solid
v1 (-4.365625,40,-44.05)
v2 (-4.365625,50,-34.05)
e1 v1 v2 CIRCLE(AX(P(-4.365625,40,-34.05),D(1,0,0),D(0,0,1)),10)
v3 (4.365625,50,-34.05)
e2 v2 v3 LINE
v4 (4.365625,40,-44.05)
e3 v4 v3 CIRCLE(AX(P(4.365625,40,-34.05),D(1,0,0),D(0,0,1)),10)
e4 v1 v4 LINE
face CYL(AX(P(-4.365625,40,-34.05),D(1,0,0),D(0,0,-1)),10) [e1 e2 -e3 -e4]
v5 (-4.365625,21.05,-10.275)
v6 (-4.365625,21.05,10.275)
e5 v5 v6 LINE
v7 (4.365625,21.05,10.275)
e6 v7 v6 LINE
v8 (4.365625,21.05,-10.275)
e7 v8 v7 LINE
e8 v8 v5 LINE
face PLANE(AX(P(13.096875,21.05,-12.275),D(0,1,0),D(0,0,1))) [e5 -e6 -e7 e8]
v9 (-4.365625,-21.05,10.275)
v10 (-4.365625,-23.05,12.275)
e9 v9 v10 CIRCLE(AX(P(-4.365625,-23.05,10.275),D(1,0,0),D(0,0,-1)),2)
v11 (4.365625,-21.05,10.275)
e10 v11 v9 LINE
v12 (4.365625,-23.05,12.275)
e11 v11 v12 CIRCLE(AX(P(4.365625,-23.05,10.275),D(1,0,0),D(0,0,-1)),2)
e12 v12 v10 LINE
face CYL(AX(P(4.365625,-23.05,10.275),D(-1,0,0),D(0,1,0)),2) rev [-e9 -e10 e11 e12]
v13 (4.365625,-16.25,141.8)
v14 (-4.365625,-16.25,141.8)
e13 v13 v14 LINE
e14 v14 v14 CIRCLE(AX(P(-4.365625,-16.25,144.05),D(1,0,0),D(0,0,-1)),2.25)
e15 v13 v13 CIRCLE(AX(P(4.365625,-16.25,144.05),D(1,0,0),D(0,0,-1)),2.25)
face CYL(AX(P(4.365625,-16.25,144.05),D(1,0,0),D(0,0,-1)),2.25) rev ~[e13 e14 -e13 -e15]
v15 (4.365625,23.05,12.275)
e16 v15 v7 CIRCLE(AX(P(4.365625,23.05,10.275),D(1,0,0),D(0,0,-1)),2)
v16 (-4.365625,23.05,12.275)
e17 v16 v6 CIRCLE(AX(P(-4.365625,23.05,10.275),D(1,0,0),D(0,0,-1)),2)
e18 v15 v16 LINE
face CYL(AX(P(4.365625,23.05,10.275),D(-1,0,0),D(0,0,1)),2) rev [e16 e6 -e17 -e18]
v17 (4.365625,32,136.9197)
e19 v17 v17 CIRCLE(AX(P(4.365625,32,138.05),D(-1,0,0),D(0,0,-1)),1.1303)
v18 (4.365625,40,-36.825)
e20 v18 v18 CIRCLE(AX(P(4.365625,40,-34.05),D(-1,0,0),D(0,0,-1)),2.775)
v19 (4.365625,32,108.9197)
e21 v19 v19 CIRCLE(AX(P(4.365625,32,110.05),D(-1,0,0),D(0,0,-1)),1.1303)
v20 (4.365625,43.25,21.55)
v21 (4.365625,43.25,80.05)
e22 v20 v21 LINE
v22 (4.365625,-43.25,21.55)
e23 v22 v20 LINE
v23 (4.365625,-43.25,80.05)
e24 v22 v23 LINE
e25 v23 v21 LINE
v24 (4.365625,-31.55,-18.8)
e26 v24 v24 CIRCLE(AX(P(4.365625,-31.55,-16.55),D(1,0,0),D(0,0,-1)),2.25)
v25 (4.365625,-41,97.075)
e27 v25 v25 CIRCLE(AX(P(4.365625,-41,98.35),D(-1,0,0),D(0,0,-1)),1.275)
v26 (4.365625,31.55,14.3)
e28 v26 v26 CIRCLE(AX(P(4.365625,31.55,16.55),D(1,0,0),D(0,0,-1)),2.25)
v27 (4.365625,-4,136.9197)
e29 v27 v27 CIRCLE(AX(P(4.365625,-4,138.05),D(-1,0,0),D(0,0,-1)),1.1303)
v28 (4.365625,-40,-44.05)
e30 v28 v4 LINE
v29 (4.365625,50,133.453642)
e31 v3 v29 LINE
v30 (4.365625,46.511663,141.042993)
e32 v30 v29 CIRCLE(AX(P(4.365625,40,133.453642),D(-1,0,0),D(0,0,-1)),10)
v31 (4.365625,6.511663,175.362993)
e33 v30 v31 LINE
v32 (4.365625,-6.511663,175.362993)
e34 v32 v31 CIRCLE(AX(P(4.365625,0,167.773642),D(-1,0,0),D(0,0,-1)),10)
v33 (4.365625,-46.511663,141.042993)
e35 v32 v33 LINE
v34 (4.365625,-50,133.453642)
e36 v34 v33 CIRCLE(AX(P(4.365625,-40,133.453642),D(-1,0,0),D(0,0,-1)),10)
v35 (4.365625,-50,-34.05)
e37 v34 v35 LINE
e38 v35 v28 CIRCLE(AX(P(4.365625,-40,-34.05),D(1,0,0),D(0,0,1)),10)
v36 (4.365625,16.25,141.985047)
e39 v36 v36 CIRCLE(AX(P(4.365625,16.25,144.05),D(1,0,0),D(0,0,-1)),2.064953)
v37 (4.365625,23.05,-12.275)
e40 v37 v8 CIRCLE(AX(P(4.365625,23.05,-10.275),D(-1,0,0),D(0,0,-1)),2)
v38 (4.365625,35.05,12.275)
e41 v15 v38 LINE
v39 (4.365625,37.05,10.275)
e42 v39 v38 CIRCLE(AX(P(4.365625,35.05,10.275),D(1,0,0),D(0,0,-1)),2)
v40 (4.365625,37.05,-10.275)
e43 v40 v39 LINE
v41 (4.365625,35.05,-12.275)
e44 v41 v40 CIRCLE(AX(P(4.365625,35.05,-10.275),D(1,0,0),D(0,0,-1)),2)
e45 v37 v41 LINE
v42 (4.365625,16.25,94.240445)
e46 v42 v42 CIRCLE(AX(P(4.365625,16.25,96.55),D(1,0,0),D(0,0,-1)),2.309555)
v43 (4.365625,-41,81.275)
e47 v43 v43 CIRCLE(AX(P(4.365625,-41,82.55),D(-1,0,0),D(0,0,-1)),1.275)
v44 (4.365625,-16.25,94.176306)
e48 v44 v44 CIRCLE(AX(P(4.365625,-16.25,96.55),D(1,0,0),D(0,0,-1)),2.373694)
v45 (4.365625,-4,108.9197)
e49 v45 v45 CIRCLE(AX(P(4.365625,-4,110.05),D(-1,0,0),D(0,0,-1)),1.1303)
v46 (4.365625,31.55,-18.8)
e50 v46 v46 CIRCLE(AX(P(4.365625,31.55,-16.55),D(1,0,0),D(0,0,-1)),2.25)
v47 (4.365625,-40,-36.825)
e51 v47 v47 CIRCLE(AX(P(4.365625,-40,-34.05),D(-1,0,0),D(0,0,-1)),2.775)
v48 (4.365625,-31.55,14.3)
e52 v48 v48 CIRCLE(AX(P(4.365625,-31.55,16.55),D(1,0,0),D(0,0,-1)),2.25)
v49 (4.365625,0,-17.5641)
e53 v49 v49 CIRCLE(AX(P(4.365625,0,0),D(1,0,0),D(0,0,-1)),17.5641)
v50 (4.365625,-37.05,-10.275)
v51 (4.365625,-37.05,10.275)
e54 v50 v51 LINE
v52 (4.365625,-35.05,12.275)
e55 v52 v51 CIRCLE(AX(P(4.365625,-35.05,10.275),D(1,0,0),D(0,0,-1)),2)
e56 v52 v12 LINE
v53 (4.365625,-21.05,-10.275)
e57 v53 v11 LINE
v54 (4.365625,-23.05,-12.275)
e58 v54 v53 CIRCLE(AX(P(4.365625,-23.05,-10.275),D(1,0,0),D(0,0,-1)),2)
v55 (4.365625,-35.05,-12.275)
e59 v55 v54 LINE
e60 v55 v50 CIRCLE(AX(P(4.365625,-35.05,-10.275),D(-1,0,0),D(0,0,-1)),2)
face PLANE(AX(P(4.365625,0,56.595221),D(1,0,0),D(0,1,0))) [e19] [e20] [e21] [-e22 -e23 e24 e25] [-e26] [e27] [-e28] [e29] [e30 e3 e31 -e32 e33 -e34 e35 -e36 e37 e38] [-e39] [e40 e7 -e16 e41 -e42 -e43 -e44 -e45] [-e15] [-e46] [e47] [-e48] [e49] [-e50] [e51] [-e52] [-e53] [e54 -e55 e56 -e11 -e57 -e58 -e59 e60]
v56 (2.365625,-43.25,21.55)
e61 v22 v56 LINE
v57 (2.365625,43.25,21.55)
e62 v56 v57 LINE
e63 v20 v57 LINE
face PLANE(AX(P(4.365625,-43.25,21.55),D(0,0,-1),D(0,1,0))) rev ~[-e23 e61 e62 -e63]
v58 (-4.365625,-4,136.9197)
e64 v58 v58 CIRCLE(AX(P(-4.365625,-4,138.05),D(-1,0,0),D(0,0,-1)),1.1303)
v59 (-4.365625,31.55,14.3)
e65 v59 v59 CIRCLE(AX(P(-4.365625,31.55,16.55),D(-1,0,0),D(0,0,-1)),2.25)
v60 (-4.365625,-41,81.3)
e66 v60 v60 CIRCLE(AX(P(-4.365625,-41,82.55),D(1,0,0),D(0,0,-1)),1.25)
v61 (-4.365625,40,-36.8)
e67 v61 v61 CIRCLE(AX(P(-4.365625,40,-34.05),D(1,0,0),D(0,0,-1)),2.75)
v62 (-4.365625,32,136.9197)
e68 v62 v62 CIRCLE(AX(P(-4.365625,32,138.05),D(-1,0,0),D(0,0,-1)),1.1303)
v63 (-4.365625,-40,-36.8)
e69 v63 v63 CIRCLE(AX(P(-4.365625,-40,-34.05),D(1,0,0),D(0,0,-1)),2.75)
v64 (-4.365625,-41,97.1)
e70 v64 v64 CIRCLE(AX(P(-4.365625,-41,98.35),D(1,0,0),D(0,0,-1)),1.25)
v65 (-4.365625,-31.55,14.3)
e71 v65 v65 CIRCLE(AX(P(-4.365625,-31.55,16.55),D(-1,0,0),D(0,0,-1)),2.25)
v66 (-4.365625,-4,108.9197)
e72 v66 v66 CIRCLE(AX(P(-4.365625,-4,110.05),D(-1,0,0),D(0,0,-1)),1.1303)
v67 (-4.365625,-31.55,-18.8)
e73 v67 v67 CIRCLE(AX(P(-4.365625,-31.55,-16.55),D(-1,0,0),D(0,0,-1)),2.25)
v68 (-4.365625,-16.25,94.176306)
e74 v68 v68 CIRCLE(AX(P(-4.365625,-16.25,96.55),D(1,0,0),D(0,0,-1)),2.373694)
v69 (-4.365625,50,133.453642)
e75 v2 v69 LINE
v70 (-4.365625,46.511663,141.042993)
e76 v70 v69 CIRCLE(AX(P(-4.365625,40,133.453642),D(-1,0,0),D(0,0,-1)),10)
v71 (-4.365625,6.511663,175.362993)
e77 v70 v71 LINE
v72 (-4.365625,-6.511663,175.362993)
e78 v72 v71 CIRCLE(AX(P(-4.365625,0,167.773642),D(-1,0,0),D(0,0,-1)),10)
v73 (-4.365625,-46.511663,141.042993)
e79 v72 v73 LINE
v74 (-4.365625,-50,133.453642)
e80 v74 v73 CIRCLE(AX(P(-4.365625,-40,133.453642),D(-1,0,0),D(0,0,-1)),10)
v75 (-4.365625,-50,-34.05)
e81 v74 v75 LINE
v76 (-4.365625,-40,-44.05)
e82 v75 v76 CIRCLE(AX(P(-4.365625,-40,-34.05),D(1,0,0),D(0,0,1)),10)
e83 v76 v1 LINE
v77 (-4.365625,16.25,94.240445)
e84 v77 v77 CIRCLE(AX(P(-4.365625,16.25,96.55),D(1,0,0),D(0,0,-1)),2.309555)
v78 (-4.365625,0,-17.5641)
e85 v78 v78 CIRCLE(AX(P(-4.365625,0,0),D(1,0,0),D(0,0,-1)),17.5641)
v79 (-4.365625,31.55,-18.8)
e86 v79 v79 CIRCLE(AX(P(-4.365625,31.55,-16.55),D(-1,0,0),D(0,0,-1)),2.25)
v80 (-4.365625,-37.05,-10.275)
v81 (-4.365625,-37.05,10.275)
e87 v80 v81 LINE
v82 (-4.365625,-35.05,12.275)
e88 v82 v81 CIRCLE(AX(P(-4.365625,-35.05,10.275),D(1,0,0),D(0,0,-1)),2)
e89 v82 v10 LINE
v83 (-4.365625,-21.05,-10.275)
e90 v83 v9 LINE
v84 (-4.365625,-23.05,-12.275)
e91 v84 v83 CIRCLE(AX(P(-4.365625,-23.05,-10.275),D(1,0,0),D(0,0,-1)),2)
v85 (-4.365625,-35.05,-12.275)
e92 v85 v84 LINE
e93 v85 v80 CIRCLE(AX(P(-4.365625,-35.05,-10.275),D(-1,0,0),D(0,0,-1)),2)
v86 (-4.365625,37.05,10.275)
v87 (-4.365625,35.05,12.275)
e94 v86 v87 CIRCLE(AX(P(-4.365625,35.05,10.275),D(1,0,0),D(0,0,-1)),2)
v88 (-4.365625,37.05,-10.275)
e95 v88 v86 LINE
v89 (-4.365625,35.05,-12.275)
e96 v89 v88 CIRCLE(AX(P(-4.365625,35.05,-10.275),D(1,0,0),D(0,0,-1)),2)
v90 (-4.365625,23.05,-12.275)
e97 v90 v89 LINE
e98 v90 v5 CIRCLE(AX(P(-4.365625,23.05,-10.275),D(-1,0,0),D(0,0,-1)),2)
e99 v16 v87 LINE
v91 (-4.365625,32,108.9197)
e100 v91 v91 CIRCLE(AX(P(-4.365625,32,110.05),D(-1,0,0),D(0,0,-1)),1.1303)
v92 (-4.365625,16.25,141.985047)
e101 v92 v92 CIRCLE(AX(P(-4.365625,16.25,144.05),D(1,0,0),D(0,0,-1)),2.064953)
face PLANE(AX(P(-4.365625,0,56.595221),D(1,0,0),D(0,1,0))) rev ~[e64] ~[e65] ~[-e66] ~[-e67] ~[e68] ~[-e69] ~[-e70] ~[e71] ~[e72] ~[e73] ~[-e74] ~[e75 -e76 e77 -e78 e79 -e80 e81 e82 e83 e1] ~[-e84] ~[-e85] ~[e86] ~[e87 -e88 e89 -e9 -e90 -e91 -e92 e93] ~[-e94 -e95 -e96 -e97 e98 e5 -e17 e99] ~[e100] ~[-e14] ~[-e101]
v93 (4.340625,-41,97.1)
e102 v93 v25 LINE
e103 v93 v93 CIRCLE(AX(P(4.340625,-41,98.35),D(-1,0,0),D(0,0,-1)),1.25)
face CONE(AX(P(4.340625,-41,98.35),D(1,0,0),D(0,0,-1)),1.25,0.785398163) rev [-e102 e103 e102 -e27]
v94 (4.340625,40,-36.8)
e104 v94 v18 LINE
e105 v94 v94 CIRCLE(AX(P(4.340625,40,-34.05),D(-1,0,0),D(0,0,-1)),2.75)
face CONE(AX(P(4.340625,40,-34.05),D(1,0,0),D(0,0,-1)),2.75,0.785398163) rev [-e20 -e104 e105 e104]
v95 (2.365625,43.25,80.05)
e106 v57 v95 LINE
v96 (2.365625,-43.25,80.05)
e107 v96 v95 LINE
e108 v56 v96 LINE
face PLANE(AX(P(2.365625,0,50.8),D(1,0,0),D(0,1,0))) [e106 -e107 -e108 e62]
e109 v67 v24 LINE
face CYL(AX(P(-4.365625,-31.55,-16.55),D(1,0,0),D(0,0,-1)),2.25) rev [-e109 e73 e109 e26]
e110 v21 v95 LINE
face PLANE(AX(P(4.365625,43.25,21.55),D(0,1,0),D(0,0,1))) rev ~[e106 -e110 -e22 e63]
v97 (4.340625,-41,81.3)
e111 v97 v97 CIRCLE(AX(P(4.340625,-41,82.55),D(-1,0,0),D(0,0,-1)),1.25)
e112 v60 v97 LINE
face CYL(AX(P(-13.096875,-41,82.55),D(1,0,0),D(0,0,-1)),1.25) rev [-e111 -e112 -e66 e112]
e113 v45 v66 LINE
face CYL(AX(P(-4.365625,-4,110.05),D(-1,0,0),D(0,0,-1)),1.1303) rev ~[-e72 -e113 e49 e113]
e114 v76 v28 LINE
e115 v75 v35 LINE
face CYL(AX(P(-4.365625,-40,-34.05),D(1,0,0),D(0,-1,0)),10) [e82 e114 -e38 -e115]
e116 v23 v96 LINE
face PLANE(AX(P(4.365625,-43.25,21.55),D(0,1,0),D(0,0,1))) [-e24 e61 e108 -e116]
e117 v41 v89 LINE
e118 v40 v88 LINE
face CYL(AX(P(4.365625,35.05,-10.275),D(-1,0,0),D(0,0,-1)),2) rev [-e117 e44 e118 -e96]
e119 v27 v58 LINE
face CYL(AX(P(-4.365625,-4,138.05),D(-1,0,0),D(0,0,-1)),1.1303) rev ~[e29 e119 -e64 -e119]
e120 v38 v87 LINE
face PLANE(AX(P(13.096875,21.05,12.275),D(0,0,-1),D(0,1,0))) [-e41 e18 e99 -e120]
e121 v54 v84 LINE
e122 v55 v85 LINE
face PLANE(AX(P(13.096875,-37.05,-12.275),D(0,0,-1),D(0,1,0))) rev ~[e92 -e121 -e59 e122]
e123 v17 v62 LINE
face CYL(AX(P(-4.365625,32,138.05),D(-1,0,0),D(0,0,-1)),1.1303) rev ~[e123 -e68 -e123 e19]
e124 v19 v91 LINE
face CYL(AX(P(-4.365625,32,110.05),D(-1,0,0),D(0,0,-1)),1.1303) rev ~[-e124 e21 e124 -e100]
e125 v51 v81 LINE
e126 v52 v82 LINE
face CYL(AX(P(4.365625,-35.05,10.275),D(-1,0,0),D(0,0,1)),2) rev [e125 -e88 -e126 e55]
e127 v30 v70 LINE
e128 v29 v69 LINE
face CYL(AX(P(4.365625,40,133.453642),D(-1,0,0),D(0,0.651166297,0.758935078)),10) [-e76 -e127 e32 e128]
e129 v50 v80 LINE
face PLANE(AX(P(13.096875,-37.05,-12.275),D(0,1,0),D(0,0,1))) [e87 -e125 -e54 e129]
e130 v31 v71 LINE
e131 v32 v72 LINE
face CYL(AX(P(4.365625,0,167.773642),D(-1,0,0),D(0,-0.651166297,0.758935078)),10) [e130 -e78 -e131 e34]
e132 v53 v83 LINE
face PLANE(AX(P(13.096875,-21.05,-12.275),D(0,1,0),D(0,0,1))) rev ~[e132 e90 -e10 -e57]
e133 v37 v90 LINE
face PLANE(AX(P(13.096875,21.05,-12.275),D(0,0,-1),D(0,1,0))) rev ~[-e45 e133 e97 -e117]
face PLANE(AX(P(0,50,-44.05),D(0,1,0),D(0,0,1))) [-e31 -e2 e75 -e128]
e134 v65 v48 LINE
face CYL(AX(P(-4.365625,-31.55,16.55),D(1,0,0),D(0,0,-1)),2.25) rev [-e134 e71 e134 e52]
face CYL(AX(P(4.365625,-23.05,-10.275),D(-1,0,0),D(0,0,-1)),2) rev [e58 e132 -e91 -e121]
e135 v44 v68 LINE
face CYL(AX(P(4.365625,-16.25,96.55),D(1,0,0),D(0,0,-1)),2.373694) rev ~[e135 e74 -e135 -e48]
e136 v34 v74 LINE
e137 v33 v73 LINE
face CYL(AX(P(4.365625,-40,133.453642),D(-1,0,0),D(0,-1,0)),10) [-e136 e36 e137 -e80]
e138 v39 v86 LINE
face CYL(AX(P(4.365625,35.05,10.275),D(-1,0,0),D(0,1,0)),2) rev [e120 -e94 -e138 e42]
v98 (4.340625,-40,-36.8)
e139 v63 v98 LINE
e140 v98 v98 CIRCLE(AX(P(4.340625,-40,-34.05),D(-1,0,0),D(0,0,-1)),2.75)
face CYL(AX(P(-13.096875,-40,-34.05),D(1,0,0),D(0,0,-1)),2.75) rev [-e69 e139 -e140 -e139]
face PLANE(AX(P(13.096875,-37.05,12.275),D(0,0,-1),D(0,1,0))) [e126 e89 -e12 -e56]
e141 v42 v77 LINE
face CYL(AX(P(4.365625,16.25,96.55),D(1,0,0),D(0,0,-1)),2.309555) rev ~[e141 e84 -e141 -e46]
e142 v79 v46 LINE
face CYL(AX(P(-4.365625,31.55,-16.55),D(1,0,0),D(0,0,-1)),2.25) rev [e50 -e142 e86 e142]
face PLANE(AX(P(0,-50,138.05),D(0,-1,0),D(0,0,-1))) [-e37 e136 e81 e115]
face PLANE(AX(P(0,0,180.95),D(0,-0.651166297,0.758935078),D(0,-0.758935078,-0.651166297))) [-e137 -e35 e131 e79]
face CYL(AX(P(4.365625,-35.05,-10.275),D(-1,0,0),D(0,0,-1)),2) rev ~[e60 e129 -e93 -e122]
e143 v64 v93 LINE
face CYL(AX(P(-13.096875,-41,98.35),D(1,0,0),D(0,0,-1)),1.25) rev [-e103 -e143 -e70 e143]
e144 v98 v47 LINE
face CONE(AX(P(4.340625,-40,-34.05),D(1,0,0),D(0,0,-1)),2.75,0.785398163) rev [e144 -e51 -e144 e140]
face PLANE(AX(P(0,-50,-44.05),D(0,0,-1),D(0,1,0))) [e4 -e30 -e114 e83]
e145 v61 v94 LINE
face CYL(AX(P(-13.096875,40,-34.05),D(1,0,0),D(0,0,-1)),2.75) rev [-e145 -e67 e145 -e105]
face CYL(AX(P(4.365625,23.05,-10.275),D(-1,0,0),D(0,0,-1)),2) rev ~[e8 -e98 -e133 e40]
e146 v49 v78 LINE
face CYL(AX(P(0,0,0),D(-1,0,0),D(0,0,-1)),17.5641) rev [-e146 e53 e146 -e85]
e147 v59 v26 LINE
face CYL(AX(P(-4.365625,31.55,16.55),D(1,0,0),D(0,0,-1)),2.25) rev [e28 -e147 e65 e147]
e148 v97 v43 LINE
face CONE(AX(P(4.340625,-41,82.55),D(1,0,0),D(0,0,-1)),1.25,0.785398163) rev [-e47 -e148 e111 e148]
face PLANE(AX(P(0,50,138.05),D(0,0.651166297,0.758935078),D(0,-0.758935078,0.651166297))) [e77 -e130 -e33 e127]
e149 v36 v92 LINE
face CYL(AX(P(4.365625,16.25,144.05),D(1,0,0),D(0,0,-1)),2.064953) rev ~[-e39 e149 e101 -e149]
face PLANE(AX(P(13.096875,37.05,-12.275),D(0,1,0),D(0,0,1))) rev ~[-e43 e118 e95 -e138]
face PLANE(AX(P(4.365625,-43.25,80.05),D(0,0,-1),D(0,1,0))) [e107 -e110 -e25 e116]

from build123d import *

# Parameters (mm, degrees)
SKETCH1_R                            = 17.5641
BOSS_EXTRUDE1_DEPTH                  = 4.365625
SKETCH2_W                            = 78.1
SKETCH2_H                            = 43.1
BOSS_EXTRUDE2_DEPTH                  = 8.73125
M4_CLEARANCE_HOLE2_AT_2_COUNT        = 2
M4_CLEARANCE_HOLE2_AT_2_PITCH        = 33.1
M4_CLEARANCE_HOLE2_AT_3_COUNT        = 2
M4_CLEARANCE_HOLE2_AT_3_PITCH        = 71.254613886
M4_CLEARANCE_HOLE2_AT_4_COUNT        = 2
M4_CLEARANCE_HOLE2_AT_4_PITCH        = 63.1
SKETCH24_W                           = 78.1
SKETCH24_H                           = 43.1
BOSS_EXTRUDE3_DEPTH                  = 8.73125
TAP_DRILL_FOR_M4X0_7_TAP1_AT_2_COUNT = 2
TAP_DRILL_FOR_M4X0_7_TAP1_AT_2_PITCH = 33.1
TAP_DRILL_FOR_M4X0_7_TAP1_AT_3_COUNT = 2
TAP_DRILL_FOR_M4X0_7_TAP1_AT_3_PITCH = 71.254613886
TAP_DRILL_FOR_M4X0_7_TAP1_AT_4_COUNT = 2
TAP_DRILL_FOR_M4X0_7_TAP1_AT_4_PITCH = 63.1
TAP_DRILL_FOR_M3X0_5_TAP1_AT_2_COUNT = 2
TAP_DRILL_FOR_M3X0_5_TAP1_AT_2_PITCH = 15.8
SKETCH3_R                            = 17.5641
CUT_EXTRUDE3_DEPTH                   = 190.54950551
M5_CLEARANCE_HOLE1_AT_2_COUNT        = 2
M5_CLEARANCE_HOLE1_AT_2_PITCH        = 80
SKETCH14_W                           = 86.5
SKETCH14_H                           = 58.5
CUT_EXTRUDE4_DEPTH                   = 2
FILLET4_R                            = 10
FILLET5_R                            = 5
FILLET6_R                            = 5
SKETCH28_W                           = 15.5
SKETCH28_H                           = 20.75
SKETCH28_R                           = 1.5
BOSS_EXTRUDE4_DEPTH                  = 2.5
FILLET7_R                            = 1
SKETCH29_R                           = 1.5
BOSS_EXTRUDE5_DEPTH                  = 1.5
FILLET8_R                            = 0.5
SKETCH34_W                           = 1.1303
SKETCH34_H                           = 17.4625
TAP_DRILL_FOR_4_40_TAP1_AT_2_COUNT   = 2
TAP_DRILL_FOR_4_40_TAP1_AT_2_PITCH   = 28
TAP_DRILL_FOR_4_40_TAP1_AT_3_COUNT   = 2
TAP_DRILL_FOR_4_40_TAP1_AT_3_PITCH   = 45.607017004
TAP_DRILL_FOR_4_40_TAP1_AT_4_COUNT   = 2
TAP_DRILL_FOR_4_40_TAP1_AT_4_PITCH   = 36
SKETCH35_R                           = 2.25
SKETCH35_R_2                         = 2.064953437
SKETCH35_R_3                         = 2.37369371
SKETCH35_R_4                         = 2.309555233
CUT_EXTRUDE5_DEPTH                   = 187.620222532
SKETCH36_W                           = 16
SKETCH36_H                           = 24.55
CUT_EXTRUDE6_DEPTH                   = 188.638698276
FILLET9_R                            = 2
FILLET10_R                           = 2
FILLET11_R                           = 2


with BuildPart() as part:
    # Sketch1 → Boss-Extrude1 (new, symmetric)
    with BuildSketch(Plane.YZ):
        Polygon((-50, 138.05), (-50, -44.05), (50, -44.05), (50, 138.05), (0, 180.95), align=None)
        with Locations(Location((0, 0, 0), (0, 0, 270))):
            Circle(SKETCH1_R, mode=Mode.SUBTRACT)
    extrude(amount=BOSS_EXTRUDE1_DEPTH, both=True)


with BuildPart() as body_2:
    # Sketch2 → Boss-Extrude2 (new body)
    with BuildSketch(Plane.YZ.offset(4.365625)):
        Rectangle(SKETCH2_W, SKETCH2_H)
    extrude(amount=BOSS_EXTRUDE2_DEPTH)


with BuildPart() as m4_clearance_hole2_tool:
    # Sketch23 → M4 Clearance Hole2 (revolve)
    with BuildSketch(Plane(origin=(13.096875, -31.55, 16.55), x_dir=(0, 0, -1), z_dir=(0, 1, 0))):
        Polygon((0, 0), (0, 17.4625), (2.25, 17.4625), (2.25, 0.025), (2.275, 0), align=None)
    m4_clearance_hole2 = revolve(axis=Axis((19.446875, -31.55, 16.55), (-1, 0, 0)))


with BuildPart() as part_1:
    add(part.part)

    # M4 Clearance Hole2: cut by m4_clearance_hole2_tool
    add(m4_clearance_hole2_tool.part, mode=Mode.SUBTRACT)


with BuildPart() as body_2_1:
    add(body_2.part)

    # M4 Clearance Hole2: cut by m4_clearance_hole2_tool
    add(m4_clearance_hole2_tool.part, mode=Mode.SUBTRACT)


with BuildPart() as m4_clearance_hole2_at_2_tool:
    # M4 Clearance Hole2 at 2: M4 Clearance Hole2 ×2
    with Locations(*[(0, 0, -i * M4_CLEARANCE_HOLE2_AT_2_PITCH) for i in range(1, M4_CLEARANCE_HOLE2_AT_2_COUNT)]):
        add(m4_clearance_hole2)


with BuildPart() as part_2:
    add(part_1.part)

    # M4 Clearance Hole2 at 2: cut by m4_clearance_hole2_at_2_tool
    add(m4_clearance_hole2_at_2_tool.part, mode=Mode.SUBTRACT)


with BuildPart() as body_2_2:
    add(body_2_1.part)

    # M4 Clearance Hole2 at 2: cut by m4_clearance_hole2_at_2_tool
    add(m4_clearance_hole2_at_2_tool.part, mode=Mode.SUBTRACT)


with BuildPart() as m4_clearance_hole2_at_3_tool:
    # M4 Clearance Hole2 at 3: M4 Clearance Hole2 ×2
    with Locations(*[Vector(0, 0.8855566897214588, -0.4645313221835228) * (i * M4_CLEARANCE_HOLE2_AT_3_PITCH) for i in range(1, M4_CLEARANCE_HOLE2_AT_3_COUNT)]):
        add(m4_clearance_hole2)


with BuildPart() as part_3:
    add(part_2.part)

    # M4 Clearance Hole2 at 3: cut by m4_clearance_hole2_at_3_tool
    add(m4_clearance_hole2_at_3_tool.part, mode=Mode.SUBTRACT)


with BuildPart() as body_2_3:
    add(body_2_2.part)

    # M4 Clearance Hole2 at 3: cut by m4_clearance_hole2_at_3_tool
    add(m4_clearance_hole2_at_3_tool.part, mode=Mode.SUBTRACT)


with BuildPart() as m4_clearance_hole2_at_4_tool:
    # M4 Clearance Hole2 at 4: M4 Clearance Hole2 ×2
    with Locations(*[(0, i * M4_CLEARANCE_HOLE2_AT_4_PITCH, 0) for i in range(1, M4_CLEARANCE_HOLE2_AT_4_COUNT)]):
        add(m4_clearance_hole2)


with BuildPart() as part_4:
    add(part_3.part)

    # M4 Clearance Hole2 at 4: cut by m4_clearance_hole2_at_4_tool
    add(m4_clearance_hole2_at_4_tool.part, mode=Mode.SUBTRACT)

    # Sketch10 → Tap Drill for M3x0.5 Tap1 (revolve, cut)
    with BuildSketch(Plane(origin=(4.365625, -41, 98.35), x_dir=(0, 0, -1), z_dir=(0, 1, 0))):
        Polygon((0, 0), (0, 17.4625), (1.25, 17.4625), (1.25, 0.025), (1.275, 0), align=None)
    tap_drill_for_m3x0_5_tap1 = revolve(axis=Axis((10.715625, -41, 98.35), (-1, 0, 0)), mode=Mode.SUBTRACT)

    # Tap Drill for M3x0.5 Tap1 at 2: Tap Drill for M3x0.5 Tap1 ×2
    with Locations(*[(0, 0, -i * TAP_DRILL_FOR_M3X0_5_TAP1_AT_2_PITCH) for i in range(1, TAP_DRILL_FOR_M3X0_5_TAP1_AT_2_COUNT)]):
        add(tap_drill_for_m3x0_5_tap1, mode=Mode.SUBTRACT)

    # Sketch12 → M5 Clearance Hole1 (revolve, cut)
    with BuildSketch(Plane(origin=(4.365625, -40, -34.05), x_dir=(0, 0, -1), z_dir=(0, 1, 0))):
        Polygon((0, 0), (0, 17.4625), (2.75, 17.4625), (2.75, 0.025), (2.775, 0), align=None)
    m5_clearance_hole1 = revolve(axis=Axis((10.715625, -40, -34.05), (-1, 0, 0)), mode=Mode.SUBTRACT)

    # M5 Clearance Hole1 at 2: M5 Clearance Hole1 ×2
    with Locations(*[(0, i * M5_CLEARANCE_HOLE1_AT_2_PITCH, 0) for i in range(1, M5_CLEARANCE_HOLE1_AT_2_COUNT)]):
        add(m5_clearance_hole1, mode=Mode.SUBTRACT)

    # Sketch14 → Cut-Extrude4 (cut)
    with BuildSketch(Plane.YZ.offset(4.365625)):
        with Locations((0, 50.8)):
            Rectangle(SKETCH14_W, SKETCH14_H)
    extrude(amount=-CUT_EXTRUDE4_DEPTH, mode=Mode.SUBTRACT)

    # Fillet4
    fillet4_edges = [part_4.edges().sort_by_distance(p)[0] for p in [
        (0, -50, 138.05),
        (0, 0, 180.95),
        (0, 50, 138.05),
        (0, 50, -44.05),
        (0, -50, -44.05),
    ]]
    fillet(fillet4_edges, radius=FILLET4_R)

    # Sketch34 → Tap Drill for #4-40 Tap1 (revolve, cut)
    with BuildSketch(Plane(origin=(4.365625, -4, 138.05), x_dir=(0, 0, -1), z_dir=(0, 1, 0))):
        with Locations((0.56515, 8.73125)):
            Rectangle(SKETCH34_W, SKETCH34_H)
    tap_drill_for_4_40_tap1 = revolve(axis=Axis((10.715625, -4, 138.05), (-1, 0, 0)), mode=Mode.SUBTRACT)

    # Tap Drill for #4-40 Tap1 at 2: Tap Drill for #4-40 Tap1 ×2
    with Locations(*[(0, 0, -i * TAP_DRILL_FOR_4_40_TAP1_AT_2_PITCH) for i in range(1, TAP_DRILL_FOR_4_40_TAP1_AT_2_COUNT)]):
        add(tap_drill_for_4_40_tap1, mode=Mode.SUBTRACT)

    # Tap Drill for #4-40 Tap1 at 3: Tap Drill for #4-40 Tap1 ×2
    with Locations(*[Vector(0, 0.789352217376326, -0.6139406135149208) * (i * TAP_DRILL_FOR_4_40_TAP1_AT_3_PITCH) for i in range(1, TAP_DRILL_FOR_4_40_TAP1_AT_3_COUNT)]):
        add(tap_drill_for_4_40_tap1, mode=Mode.SUBTRACT)

    # Tap Drill for #4-40 Tap1 at 4: Tap Drill for #4-40 Tap1 ×2
    with Locations(*[(0, i * TAP_DRILL_FOR_4_40_TAP1_AT_4_PITCH, 0) for i in range(1, TAP_DRILL_FOR_4_40_TAP1_AT_4_COUNT)]):
        add(tap_drill_for_4_40_tap1, mode=Mode.SUBTRACT)

    # Sketch35 → Cut-Extrude5 (cut, through all)
    with BuildSketch(Plane.YZ.offset(4.365625)):
        with Locations(Location((-16.25, 144.05, 0), (0, 0, 270))):
            Circle(SKETCH35_R)
        with Locations(Location((16.25, 144.05, 0), (0, 0, 270))):
            Circle(SKETCH35_R_2)
        with Locations(Location((-16.25, 96.55, 0), (0, 0, 270))):
            Circle(SKETCH35_R_3)
        with Locations(Location((16.25, 96.55, 0), (0, 0, 270))):
            Circle(SKETCH35_R_4)
    extrude(amount=-CUT_EXTRUDE5_DEPTH, mode=Mode.SUBTRACT)


with BuildPart() as body_2_4:
    add(body_2_3.part)

    # M4 Clearance Hole2 at 4: cut by m4_clearance_hole2_at_4_tool
    add(m4_clearance_hole2_at_4_tool.part, mode=Mode.SUBTRACT)


with BuildPart() as body_3:
    # Sketch24 → Boss-Extrude3 (new body)
    with BuildSketch(Plane(origin=(-4.365625, 0, 0), x_dir=(0, -1, 0), z_dir=(-1, 0, 0))):
        Rectangle(SKETCH24_W, SKETCH24_H)
    extrude(amount=BOSS_EXTRUDE3_DEPTH)

    # Sketch27 → Tap Drill for M4x0.7 Tap1 (revolve, cut)
    with BuildSketch(Plane(origin=(-13.096875, 31.55, 16.55), x_dir=(0, 0, 1), z_dir=(0, 1, 0))):
        Polygon((0, 0), (0, 9.722670021), (1.65, 8.73125), (1.65, 0.025), (1.675, 0), align=None)
    tap_drill_for_m4x0_7_tap1 = revolve(axis=Axis((-19.446875, 31.55, 16.55), (1, 0, 0)), mode=Mode.SUBTRACT)

    # Tap Drill for M4x0.7 Tap1 at 2: Tap Drill for M4x0.7 Tap1 ×2
    with Locations(*[(0, 0, -i * TAP_DRILL_FOR_M4X0_7_TAP1_AT_2_PITCH) for i in range(1, TAP_DRILL_FOR_M4X0_7_TAP1_AT_2_COUNT)]):
        add(tap_drill_for_m4x0_7_tap1, mode=Mode.SUBTRACT)

    # Tap Drill for M4x0.7 Tap1 at 3: Tap Drill for M4x0.7 Tap1 ×2
    with Locations(*[Vector(0, -0.8855566897214588, -0.4645313221835228) * (i * TAP_DRILL_FOR_M4X0_7_TAP1_AT_3_PITCH) for i in range(1, TAP_DRILL_FOR_M4X0_7_TAP1_AT_3_COUNT)]):
        add(tap_drill_for_m4x0_7_tap1, mode=Mode.SUBTRACT)

    # Tap Drill for M4x0.7 Tap1 at 4: Tap Drill for M4x0.7 Tap1 ×2
    with Locations(*[(0, -i * TAP_DRILL_FOR_M4X0_7_TAP1_AT_4_PITCH, 0) for i in range(1, TAP_DRILL_FOR_M4X0_7_TAP1_AT_4_COUNT)]):
        add(tap_drill_for_m4x0_7_tap1, mode=Mode.SUBTRACT)


with BuildPart() as cut_extrude3_tool:
    # Sketch3 → Cut-Extrude3 (new, through all)
    with BuildSketch(Plane.YZ.offset(13.096875)):
        with Locations(Location((0, 0, 0), (0, 0, 270))):
            Circle(SKETCH3_R)
    extrude(amount=-CUT_EXTRUDE3_DEPTH)


with BuildPart() as body_2_5:
    add(body_2_4.part)

    # Cut-Extrude3: cut by cut_extrude3_tool
    add(cut_extrude3_tool.part, mode=Mode.SUBTRACT)

    # Fillet6
    fillet6_edges = [body_2_5.edges().sort_by_distance(p)[0] for p in [
        (8.73125, -39.05, 21.55),
        (8.73125, 39.05, 21.55),
        (8.73125, 39.05, -21.55),
        (8.73125, -39.05, -21.55),
    ]]
    fillet(fillet6_edges, radius=FILLET6_R)


with BuildPart() as body_3_1:
    add(body_3.part)

    # Cut-Extrude3: cut by cut_extrude3_tool
    add(cut_extrude3_tool.part, mode=Mode.SUBTRACT)

    # Fillet5
    fillet5_edges = [body_3_1.edges().sort_by_distance(p)[0] for p in [
        (-8.73125, -39.05, 21.55),
        (-8.73125, -39.05, -21.55),
        (-8.73125, 39.05, -21.55),
        (-8.73125, 39.05, 21.55),
    ]]
    fillet(fillet5_edges, radius=FILLET5_R)


with BuildPart() as body_4:
    # Sketch28 → Boss-Extrude4 (new body)
    with BuildSketch(Plane.YZ.offset(4.365625)):
        with Locations((-46.275, 90.45)):
            Rectangle(SKETCH28_W, SKETCH28_H)
        with Locations(Location((-41, 82.55, 0), (0, 0, 270))):
            Circle(SKETCH28_R, mode=Mode.SUBTRACT)
        with Locations(Location((-41, 98.35, 0), (0, 0, 270))):
            Circle(SKETCH28_R, mode=Mode.SUBTRACT)
    extrude(amount=BOSS_EXTRUDE4_DEPTH)

    # Fillet7
    fillet7_edges = [body_4.edges().sort_by_distance(p)[0] for p in [
        (5.615625, -38.525, 80.075),
        (5.615625, -54.025, 80.075),
        (5.615625, -54.025, 100.825),
        (5.615625, -38.525, 100.825),
    ]]
    fillet(fillet7_edges, radius=FILLET7_R)

    # Sketch29 → Boss-Extrude5 (add)
    with BuildSketch(Plane(origin=(4.365625, 0, 0), x_dir=(0, -1, 0), z_dir=(-1, 0, 0))):
        with Locations(Location((52.025, 99.2, 0), (0, 0, 90))):
            Circle(SKETCH29_R)
        with Locations(Location((52.025, 95.7, 0), (0, 0, 90))):
            Circle(SKETCH29_R)
        with Locations(Location((52.025, 92.2, 0), (0, 0, 90))):
            Circle(SKETCH29_R)
        with Locations(Location((52.025, 88.7, 0), (0, 0, 90))):
            Circle(SKETCH29_R)
        with Locations(Location((52.025, 85.2, 0), (0, 0, 90))):
            Circle(SKETCH29_R)
        with Locations(Location((52.025, 81.7, 0), (0, 0, 90))):
            Circle(SKETCH29_R)
    extrude(amount=BOSS_EXTRUDE5_DEPTH)

    # Fillet8
    fillet8_edges = [body_4.edges().sort_by_distance(p)[0] for p in [
        (2.865625, -52.025, 97.7),
        (2.865625, -52.025, 94.2),
        (2.865625, -52.025, 90.7),
        (2.865625, -52.025, 87.2),
        (2.865625, -52.025, 83.7),
        (2.865625, -52.025, 80.2),
    ]]
    fillet(fillet8_edges, radius=FILLET8_R)


with BuildPart() as cut_extrude6_tool:
    # Sketch36 → Cut-Extrude6 (new, through all)
    with BuildSketch(Plane.YZ.offset(13.096875)):
        with Locations((-29.05, 0)):
            Rectangle(SKETCH36_W, SKETCH36_H)
        with Locations((29.05, 0)):
            Rectangle(SKETCH36_W, SKETCH36_H)
    extrude(amount=-CUT_EXTRUDE6_DEPTH)


with BuildPart() as part_5:
    add(part_4.part)

    # Cut-Extrude6: cut by cut_extrude6_tool
    add(cut_extrude6_tool.part, mode=Mode.SUBTRACT)

    # Fillet11
    fillet11_edges = [part_5.edges().sort_by_distance(p)[0] for p in [
        (0, -37.05, -12.275),
        (0, -37.05, 12.275),
        (0, -21.05, 12.275),
        (0, -21.05, -12.275),
        (0, 21.05, 12.275),
        (0, 37.05, 12.275),
        (0, 37.05, -12.275),
        (0, 21.05, -12.275),
    ]]
    fillet(fillet11_edges, radius=FILLET11_R)


with BuildPart() as body_2_6:
    add(body_2_5.part)

    # Cut-Extrude6: cut by cut_extrude6_tool
    add(cut_extrude6_tool.part, mode=Mode.SUBTRACT)

    # Fillet9
    fillet9_edges = [body_2_6.edges().sort_by_distance(p)[0] for p in [
        (8.73125, -37.05, -12.275),
        (8.73125, -37.05, 12.275),
        (8.73125, -21.05, 12.275),
        (8.73125, -21.05, -12.275),
        (8.73125, 21.05, 12.275),
        (8.73125, 37.05, 12.275),
        (8.73125, 37.05, -12.275),
        (8.73125, 21.05, -12.275),
    ]]
    fillet(fillet9_edges, radius=FILLET9_R)


with BuildPart() as body_3_2:
    add(body_3_1.part)

    # Cut-Extrude6: cut by cut_extrude6_tool
    add(cut_extrude6_tool.part, mode=Mode.SUBTRACT)

    # Fillet10
    fillet10_edges = [body_3_2.edges().sort_by_distance(p)[0] for p in [
        (-8.73125, -37.05, -12.275),
        (-8.73125, -37.05, 12.275),
        (-8.73125, -21.05, 12.275),
        (-8.73125, -21.05, -12.275),
        (-8.73125, 21.05, 12.275),
        (-8.73125, 37.05, 12.275),
        (-8.73125, 37.05, -12.275),
        (-8.73125, 21.05, -12.275),
    ]]
    fillet(fillet10_edges, radius=FILLET10_R)


solid = part_5.part
